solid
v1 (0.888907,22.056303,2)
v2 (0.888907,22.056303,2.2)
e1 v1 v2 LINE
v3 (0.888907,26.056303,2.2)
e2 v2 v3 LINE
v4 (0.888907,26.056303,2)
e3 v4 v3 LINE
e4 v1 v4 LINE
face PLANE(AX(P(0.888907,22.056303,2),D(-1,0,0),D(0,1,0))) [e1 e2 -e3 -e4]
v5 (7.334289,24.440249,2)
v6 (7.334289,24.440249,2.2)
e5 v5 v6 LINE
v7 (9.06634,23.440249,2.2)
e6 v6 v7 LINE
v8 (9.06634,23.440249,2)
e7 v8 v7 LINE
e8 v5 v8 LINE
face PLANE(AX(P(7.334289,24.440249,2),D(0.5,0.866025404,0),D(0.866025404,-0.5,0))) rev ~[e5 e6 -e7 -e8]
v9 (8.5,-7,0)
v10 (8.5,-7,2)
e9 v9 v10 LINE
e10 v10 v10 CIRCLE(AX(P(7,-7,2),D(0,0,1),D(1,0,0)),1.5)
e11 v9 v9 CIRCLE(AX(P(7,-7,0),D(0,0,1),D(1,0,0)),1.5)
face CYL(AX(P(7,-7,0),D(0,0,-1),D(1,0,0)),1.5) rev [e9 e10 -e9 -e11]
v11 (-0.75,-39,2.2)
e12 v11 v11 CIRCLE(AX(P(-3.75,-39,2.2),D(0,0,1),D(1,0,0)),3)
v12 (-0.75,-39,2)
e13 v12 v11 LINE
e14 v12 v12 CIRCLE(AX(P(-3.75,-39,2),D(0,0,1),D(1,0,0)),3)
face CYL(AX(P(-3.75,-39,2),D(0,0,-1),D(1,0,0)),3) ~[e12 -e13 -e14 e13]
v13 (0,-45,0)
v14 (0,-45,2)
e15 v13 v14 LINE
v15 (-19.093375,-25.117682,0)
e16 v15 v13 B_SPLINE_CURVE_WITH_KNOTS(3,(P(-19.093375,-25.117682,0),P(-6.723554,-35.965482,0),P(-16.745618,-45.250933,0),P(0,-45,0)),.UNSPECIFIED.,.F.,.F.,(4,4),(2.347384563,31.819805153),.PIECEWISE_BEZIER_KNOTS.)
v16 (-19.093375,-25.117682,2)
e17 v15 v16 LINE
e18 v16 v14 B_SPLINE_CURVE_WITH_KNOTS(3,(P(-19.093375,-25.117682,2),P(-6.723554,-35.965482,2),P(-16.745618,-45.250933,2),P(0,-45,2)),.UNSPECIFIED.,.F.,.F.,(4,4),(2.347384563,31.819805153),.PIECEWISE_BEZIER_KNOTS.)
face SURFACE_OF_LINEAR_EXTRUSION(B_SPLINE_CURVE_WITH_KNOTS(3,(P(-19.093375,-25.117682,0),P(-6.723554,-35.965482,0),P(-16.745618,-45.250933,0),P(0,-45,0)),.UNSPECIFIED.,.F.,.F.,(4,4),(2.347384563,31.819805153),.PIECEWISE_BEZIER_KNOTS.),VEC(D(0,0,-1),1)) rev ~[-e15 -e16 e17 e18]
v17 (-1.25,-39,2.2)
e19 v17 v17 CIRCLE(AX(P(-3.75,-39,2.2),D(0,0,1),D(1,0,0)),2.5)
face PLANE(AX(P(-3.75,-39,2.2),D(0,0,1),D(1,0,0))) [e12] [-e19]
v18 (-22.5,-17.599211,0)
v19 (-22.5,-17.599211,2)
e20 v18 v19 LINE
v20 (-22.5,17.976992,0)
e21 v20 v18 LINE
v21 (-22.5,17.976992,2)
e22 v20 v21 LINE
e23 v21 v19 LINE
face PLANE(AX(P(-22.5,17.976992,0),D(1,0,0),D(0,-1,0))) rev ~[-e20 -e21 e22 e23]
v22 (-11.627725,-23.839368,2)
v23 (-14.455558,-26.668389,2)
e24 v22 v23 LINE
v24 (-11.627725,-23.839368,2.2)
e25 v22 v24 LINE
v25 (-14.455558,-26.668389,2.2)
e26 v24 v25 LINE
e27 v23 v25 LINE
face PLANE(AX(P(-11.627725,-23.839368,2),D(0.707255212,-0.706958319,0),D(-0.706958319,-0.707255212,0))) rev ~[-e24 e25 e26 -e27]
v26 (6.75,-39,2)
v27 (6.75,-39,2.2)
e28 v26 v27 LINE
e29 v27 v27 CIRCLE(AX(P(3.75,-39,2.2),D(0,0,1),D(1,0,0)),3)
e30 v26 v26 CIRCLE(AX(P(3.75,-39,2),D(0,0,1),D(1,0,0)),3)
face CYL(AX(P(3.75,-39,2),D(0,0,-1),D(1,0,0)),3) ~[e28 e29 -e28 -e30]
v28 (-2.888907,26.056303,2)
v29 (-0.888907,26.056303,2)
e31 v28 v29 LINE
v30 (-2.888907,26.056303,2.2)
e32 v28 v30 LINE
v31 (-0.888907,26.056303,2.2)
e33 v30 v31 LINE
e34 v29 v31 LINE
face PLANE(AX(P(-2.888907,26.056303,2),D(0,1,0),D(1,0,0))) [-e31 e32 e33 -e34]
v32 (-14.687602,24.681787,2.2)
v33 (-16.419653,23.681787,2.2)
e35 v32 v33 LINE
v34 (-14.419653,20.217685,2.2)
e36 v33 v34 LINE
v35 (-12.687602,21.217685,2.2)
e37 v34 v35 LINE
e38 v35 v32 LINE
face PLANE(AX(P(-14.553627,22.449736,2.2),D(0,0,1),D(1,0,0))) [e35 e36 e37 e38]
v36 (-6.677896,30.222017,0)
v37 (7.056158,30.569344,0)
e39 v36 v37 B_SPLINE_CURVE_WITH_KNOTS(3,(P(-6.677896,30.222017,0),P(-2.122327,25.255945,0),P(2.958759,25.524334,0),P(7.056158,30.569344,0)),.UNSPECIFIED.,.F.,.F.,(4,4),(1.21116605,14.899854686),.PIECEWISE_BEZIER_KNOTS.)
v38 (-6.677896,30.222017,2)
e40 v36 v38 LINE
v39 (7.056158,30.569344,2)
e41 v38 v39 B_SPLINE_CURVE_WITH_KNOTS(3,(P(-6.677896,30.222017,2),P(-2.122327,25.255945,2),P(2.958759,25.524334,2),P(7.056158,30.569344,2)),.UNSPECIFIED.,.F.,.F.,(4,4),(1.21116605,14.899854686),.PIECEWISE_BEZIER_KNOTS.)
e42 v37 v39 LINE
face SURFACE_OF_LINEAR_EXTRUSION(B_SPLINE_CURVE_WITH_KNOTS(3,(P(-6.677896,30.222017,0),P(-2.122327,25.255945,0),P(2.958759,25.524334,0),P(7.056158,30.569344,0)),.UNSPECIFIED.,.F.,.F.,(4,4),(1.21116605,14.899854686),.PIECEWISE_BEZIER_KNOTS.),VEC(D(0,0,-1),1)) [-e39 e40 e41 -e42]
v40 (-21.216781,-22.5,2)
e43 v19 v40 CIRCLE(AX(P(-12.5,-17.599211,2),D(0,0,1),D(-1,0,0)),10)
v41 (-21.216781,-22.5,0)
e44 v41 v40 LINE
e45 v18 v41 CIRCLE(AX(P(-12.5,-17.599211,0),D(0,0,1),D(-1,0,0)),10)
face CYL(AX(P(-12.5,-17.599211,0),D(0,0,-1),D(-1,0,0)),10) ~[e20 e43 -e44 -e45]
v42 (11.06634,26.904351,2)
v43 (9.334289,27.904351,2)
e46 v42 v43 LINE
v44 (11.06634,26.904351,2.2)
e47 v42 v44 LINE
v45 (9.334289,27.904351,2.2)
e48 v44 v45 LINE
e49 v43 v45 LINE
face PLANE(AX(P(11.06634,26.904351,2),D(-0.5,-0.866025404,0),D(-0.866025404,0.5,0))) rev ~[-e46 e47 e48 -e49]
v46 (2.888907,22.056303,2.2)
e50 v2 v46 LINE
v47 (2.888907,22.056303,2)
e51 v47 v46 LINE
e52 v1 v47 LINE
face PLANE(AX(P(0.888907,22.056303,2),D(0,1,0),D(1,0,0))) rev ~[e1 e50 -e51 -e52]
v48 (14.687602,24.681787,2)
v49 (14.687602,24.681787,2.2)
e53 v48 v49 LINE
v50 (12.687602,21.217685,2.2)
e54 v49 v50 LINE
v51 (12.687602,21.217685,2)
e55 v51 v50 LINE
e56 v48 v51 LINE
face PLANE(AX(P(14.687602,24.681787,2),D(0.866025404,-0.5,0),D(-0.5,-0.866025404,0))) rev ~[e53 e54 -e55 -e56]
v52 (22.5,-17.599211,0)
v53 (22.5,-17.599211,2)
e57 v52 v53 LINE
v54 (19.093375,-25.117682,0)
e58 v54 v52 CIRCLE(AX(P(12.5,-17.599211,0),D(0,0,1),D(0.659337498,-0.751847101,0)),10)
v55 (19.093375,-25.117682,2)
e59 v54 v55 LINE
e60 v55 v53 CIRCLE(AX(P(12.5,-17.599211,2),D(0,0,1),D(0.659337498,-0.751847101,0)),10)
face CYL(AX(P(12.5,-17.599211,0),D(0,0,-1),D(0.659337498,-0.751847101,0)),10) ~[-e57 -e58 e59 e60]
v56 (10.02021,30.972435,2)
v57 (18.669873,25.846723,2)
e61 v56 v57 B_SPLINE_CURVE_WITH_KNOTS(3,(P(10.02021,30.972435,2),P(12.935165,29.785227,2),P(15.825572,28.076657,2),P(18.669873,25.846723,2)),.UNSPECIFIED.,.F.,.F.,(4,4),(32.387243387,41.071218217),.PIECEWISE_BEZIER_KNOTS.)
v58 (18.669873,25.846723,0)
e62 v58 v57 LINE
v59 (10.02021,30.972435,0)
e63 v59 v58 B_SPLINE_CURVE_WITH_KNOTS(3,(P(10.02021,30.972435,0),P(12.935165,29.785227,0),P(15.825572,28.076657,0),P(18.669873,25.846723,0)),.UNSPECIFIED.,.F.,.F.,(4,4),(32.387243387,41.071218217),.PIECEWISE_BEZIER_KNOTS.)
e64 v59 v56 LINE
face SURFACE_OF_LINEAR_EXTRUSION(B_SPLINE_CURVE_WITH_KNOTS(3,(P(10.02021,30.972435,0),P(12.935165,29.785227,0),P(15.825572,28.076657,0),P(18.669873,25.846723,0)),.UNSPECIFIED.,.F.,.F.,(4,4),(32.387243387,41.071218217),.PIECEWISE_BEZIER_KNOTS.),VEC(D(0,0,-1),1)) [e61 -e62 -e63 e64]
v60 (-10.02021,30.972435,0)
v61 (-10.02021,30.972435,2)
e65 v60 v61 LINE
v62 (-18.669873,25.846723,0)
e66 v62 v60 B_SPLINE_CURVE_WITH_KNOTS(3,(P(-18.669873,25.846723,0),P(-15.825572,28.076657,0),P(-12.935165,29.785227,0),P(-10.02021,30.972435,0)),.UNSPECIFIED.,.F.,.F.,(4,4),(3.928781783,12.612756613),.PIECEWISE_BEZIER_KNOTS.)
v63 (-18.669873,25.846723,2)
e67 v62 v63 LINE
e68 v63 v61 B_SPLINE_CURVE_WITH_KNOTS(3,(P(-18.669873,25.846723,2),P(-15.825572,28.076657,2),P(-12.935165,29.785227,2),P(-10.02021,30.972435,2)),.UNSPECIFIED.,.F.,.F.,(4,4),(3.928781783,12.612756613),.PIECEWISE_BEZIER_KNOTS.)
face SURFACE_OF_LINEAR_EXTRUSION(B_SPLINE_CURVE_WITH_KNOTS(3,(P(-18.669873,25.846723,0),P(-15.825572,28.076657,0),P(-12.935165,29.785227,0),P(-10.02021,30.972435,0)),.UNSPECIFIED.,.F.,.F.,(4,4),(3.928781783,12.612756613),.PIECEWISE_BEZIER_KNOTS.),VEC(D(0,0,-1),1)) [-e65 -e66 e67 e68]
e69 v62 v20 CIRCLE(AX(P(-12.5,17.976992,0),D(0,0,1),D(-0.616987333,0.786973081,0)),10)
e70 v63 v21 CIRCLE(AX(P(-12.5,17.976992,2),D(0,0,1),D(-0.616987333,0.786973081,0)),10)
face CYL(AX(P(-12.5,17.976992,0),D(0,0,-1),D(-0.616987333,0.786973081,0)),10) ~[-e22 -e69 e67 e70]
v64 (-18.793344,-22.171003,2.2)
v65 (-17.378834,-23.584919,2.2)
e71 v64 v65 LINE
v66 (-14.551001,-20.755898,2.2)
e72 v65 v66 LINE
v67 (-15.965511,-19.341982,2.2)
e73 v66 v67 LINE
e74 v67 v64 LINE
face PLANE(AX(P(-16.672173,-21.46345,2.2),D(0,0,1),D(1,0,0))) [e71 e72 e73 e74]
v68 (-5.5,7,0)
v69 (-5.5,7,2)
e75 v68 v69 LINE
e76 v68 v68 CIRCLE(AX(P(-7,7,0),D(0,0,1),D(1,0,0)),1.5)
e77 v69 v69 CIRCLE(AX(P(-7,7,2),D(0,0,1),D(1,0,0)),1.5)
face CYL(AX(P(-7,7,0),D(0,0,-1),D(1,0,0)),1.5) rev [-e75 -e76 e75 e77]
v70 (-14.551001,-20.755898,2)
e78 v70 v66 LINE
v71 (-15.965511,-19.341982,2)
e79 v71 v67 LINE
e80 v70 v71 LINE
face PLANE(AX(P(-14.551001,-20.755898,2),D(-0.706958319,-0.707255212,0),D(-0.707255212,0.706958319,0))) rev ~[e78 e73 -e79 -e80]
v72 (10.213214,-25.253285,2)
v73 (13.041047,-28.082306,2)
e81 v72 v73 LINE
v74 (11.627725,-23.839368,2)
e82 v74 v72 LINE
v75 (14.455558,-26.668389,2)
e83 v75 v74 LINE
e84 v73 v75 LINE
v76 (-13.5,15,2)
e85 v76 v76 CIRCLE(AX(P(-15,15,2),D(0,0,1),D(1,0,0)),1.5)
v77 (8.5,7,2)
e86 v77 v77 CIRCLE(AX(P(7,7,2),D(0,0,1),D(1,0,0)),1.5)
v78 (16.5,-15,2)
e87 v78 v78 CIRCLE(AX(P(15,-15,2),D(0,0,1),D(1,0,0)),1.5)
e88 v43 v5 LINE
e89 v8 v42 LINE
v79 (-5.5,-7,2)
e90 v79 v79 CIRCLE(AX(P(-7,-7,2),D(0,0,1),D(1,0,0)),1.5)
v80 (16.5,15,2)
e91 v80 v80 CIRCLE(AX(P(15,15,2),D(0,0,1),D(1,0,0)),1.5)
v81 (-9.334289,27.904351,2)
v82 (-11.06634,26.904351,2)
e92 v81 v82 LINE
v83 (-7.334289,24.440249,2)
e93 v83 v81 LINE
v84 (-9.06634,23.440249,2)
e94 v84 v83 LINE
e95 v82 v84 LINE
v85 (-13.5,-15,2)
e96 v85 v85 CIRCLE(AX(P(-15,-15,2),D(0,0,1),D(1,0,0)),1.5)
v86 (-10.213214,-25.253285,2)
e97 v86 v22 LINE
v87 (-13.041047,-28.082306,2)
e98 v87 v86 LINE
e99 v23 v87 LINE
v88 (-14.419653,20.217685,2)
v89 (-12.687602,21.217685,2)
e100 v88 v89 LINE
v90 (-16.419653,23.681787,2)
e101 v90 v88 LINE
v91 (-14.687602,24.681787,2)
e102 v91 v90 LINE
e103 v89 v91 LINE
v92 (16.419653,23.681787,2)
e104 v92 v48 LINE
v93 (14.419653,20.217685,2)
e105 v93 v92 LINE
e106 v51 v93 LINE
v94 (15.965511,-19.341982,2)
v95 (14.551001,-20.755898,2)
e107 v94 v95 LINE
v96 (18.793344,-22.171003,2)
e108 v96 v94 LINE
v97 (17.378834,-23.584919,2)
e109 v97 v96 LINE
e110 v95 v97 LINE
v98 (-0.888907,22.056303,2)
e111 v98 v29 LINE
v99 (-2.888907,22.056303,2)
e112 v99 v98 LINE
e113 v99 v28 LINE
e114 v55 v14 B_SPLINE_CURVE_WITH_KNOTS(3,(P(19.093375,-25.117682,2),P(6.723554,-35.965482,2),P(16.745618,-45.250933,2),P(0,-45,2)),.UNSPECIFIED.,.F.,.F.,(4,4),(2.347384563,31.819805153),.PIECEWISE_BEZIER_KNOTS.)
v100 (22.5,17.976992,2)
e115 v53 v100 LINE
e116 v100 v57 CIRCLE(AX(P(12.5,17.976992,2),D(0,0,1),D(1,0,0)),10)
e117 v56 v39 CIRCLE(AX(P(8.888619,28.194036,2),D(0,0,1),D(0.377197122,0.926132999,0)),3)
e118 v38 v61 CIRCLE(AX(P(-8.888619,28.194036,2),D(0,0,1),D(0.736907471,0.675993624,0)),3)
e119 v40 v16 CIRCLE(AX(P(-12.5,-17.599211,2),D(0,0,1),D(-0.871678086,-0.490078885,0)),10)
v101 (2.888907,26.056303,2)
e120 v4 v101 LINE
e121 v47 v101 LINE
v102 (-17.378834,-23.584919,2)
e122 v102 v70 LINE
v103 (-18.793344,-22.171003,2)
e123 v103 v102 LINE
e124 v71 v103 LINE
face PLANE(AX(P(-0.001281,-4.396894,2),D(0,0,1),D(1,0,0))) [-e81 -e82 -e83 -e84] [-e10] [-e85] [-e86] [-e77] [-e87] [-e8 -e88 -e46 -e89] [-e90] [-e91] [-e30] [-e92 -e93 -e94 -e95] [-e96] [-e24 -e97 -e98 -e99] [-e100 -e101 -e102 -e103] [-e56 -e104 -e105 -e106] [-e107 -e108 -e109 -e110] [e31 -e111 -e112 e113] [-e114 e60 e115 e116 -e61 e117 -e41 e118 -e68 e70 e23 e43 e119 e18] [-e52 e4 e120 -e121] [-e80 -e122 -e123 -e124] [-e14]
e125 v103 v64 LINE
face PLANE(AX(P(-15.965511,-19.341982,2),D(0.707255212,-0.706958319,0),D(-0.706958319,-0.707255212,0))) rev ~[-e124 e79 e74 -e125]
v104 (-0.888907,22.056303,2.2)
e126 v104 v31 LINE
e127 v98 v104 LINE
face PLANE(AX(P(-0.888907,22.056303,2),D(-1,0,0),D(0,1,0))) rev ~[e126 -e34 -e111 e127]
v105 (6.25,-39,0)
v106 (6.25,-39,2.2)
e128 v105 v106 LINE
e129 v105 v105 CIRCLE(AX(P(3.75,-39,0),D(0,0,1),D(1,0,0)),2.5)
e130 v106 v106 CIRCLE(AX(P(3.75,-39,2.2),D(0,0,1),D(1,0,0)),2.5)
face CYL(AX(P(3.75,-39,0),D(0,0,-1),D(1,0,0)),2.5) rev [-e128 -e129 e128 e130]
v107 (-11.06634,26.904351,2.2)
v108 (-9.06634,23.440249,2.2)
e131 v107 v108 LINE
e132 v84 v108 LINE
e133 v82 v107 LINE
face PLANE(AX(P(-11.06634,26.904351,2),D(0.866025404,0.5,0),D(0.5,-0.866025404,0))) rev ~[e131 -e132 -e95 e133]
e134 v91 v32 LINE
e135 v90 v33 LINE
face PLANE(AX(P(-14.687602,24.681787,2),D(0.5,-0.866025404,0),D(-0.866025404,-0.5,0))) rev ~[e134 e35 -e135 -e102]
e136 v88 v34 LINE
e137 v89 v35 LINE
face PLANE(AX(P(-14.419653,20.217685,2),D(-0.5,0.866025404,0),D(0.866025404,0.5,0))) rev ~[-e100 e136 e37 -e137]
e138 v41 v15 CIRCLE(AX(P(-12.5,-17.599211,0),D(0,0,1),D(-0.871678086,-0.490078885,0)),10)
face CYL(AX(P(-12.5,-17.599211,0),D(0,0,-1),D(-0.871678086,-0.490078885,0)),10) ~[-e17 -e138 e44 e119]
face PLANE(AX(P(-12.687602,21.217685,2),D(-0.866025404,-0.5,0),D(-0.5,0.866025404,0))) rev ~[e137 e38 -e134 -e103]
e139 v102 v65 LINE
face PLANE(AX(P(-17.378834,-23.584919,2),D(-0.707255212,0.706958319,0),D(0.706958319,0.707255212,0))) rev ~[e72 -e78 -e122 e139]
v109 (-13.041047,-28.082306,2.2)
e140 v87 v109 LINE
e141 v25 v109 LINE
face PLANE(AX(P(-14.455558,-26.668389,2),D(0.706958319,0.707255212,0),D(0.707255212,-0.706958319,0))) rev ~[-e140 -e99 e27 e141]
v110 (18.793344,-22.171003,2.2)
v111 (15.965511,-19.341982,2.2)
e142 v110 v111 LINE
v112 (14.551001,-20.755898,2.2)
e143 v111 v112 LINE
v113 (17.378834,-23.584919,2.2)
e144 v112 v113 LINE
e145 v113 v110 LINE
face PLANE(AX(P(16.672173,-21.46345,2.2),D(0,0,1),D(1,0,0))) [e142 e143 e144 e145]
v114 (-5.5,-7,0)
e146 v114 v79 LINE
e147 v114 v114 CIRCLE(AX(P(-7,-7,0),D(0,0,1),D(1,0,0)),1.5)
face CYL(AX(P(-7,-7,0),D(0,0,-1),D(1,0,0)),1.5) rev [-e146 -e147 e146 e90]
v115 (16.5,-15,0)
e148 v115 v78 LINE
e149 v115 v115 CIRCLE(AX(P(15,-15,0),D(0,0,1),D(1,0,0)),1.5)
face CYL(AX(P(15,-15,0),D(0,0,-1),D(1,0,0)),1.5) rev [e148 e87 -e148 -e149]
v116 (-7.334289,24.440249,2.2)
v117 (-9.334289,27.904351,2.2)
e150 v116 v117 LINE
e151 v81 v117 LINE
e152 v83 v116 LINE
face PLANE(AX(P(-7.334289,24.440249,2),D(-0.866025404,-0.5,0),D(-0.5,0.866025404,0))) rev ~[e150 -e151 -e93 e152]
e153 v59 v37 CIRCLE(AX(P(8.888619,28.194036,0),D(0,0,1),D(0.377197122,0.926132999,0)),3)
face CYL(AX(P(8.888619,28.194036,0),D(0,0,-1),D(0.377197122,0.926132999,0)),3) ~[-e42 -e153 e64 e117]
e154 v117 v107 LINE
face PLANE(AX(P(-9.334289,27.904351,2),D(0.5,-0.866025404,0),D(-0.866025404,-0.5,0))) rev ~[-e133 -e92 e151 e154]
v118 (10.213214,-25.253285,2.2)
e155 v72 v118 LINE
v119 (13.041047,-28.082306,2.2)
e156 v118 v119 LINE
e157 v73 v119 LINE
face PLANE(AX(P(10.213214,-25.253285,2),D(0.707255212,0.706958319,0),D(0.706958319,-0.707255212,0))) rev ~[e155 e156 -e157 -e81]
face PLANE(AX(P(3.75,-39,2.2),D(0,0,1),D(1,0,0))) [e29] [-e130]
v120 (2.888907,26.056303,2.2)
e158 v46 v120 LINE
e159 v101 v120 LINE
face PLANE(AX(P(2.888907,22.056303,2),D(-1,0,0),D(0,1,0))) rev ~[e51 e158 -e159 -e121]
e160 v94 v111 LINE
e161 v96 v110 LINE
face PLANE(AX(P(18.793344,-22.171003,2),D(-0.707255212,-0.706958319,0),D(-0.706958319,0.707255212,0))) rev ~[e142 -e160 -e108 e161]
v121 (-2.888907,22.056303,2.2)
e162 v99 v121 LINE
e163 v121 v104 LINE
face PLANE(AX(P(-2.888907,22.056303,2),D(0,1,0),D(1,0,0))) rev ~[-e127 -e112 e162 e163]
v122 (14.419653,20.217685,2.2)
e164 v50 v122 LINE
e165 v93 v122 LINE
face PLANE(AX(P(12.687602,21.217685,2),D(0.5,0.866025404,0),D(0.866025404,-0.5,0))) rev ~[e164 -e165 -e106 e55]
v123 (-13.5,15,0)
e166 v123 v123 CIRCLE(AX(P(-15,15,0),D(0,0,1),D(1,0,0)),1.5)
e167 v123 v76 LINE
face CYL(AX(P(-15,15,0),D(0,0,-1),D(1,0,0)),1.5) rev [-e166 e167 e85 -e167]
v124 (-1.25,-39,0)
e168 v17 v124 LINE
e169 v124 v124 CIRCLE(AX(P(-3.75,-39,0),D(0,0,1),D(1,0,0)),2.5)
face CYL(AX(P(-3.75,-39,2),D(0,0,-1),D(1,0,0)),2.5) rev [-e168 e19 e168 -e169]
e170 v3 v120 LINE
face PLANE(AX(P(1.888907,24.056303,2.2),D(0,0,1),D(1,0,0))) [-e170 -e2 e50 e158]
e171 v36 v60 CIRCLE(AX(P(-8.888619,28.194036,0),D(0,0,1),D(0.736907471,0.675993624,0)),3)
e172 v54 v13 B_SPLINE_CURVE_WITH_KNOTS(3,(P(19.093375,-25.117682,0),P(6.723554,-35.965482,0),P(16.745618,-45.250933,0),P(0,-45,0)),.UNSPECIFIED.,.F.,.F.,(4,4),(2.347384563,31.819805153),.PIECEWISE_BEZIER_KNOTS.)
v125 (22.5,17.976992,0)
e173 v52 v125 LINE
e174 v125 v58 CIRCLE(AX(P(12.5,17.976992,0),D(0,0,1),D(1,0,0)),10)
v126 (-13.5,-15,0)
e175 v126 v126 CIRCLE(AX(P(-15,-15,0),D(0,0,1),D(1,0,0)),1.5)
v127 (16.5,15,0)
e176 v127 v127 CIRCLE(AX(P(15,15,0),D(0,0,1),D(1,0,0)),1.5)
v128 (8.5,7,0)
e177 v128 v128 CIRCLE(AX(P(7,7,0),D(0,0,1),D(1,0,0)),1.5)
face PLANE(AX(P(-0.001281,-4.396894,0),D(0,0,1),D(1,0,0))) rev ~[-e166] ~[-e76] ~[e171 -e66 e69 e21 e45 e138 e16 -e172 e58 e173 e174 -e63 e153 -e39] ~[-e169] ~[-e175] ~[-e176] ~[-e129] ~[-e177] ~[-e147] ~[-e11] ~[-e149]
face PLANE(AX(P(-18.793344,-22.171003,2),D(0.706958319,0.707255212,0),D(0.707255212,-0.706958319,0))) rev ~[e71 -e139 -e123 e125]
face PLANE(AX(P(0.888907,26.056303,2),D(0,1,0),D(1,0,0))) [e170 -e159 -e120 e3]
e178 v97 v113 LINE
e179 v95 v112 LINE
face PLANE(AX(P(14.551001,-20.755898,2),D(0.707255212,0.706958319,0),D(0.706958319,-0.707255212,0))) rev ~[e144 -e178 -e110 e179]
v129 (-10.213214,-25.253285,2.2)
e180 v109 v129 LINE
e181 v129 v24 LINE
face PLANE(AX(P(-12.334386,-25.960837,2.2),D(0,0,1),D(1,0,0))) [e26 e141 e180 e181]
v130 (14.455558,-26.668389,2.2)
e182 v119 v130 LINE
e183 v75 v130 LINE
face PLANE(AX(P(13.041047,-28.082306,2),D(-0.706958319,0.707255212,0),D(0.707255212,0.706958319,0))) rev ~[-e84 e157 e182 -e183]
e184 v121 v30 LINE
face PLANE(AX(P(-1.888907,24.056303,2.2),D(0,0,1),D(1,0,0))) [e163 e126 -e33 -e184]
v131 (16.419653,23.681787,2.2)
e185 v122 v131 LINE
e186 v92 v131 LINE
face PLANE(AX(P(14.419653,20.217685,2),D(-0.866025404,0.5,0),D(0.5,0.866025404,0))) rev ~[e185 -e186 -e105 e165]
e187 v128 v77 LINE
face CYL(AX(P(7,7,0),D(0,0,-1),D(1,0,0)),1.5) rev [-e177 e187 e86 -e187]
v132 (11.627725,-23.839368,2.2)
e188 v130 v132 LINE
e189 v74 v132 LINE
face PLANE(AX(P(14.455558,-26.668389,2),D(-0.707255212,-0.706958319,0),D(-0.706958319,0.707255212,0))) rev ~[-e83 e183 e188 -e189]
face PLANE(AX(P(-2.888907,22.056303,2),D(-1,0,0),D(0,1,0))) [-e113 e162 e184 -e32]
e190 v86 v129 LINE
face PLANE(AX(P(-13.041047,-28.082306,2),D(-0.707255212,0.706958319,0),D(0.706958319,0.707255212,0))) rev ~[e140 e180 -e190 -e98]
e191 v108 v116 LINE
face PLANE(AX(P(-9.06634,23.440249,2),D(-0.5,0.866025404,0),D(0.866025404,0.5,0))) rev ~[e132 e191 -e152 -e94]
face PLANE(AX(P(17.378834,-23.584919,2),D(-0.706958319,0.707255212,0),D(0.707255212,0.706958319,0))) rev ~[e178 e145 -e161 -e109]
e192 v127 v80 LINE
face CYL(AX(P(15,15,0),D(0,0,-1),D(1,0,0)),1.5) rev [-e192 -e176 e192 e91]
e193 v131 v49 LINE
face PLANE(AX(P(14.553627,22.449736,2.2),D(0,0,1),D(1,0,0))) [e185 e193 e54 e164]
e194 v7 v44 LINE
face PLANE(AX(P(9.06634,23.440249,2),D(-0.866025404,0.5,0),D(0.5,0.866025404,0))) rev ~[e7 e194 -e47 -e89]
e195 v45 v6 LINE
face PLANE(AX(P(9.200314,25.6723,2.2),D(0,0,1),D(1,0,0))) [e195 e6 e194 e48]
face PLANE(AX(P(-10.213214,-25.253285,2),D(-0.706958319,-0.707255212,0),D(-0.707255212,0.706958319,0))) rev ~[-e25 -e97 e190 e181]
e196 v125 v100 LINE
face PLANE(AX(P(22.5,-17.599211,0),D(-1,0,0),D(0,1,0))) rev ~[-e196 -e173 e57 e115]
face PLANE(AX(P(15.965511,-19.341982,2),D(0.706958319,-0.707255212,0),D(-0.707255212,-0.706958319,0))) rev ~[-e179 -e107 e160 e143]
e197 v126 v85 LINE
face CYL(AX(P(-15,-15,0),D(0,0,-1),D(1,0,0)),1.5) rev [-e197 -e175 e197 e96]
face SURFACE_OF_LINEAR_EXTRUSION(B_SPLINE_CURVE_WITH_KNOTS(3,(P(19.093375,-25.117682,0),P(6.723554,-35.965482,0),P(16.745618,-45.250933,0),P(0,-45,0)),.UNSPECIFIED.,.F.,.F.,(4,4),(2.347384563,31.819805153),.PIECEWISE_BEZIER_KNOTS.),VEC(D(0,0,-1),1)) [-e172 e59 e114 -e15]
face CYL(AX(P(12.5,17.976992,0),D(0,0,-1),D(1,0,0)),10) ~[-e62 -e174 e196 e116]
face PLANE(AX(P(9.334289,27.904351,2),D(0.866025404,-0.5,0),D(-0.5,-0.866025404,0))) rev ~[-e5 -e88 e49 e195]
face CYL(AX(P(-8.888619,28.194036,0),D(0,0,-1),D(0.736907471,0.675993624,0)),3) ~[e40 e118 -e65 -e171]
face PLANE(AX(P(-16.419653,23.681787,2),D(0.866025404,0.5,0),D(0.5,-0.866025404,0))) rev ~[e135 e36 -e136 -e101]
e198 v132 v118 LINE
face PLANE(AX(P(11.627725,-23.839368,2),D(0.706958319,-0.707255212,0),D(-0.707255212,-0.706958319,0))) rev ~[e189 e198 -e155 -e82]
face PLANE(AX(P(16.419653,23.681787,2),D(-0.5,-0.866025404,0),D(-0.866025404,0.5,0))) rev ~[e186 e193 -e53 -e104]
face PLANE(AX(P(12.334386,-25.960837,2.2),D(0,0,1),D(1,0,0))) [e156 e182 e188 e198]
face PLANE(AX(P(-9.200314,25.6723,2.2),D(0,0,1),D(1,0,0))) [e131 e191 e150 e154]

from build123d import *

# Parameters (mm, degrees)
F0_R     = 2.5
F0_R_2   = 1.5
F1_DEPTH = 2
F2_W     = 2
F2_H     = 4
F2_R     = 3
F2_R_2   = 2.5
F3_DEPTH = 0.2


with BuildPart() as f1:
    # F0 (on Top) → F1 (new body)
    with BuildSketch(Plane.XY):
        with BuildLine():
            Line((22.5, -17.5992111466), (22.5, 17.9769920821))
            ThreePointArc((22.5, 17.9769920821), (21.4916275861, 22.3531357443), (18.6698733295, 25.8467228969))
            add(Edge.make_bspline(
                [(10.0202101022, 30.9724353404), (12.9351645554, 29.7852274215), (15.8255721427, 28.076656607), (18.6698733295, 25.8467228969)],
                knots=[32.3872433875, 32.3872433875, 32.3872433875, 32.3872433875, 41.0712182165, 41.0712182165, 41.0712182165, 41.0712182165], degree=3))
            ThreePointArc((10.0202101022, 30.9724353404), (8.4843597996, 31.1666740134), (7.0561575797, 30.569343926))
            add(Edge.make_bspline(
                [(-6.6778963244, 30.2220172158), (-2.1223269725, 25.2559450952), (2.9587594632, 25.5243336352), (7.0561575797, 30.569343926)],
                knots=[1.2111660498, 1.2111660498, 1.2111660498, 1.2111660498, 14.8998546864, 14.8998546864, 14.8998546864, 14.8998546864], degree=3))
            ThreePointArc((-6.6778963244, 30.2220172158), (-8.2314180106, 31.1211658606), (-10.0202101022, 30.9724353404))
            add(Edge.make_bspline(
                [(-18.6698733295, 25.8467228969), (-15.8255721427, 28.076656607), (-12.9351645554, 29.7852274215), (-10.0202101022, 30.9724353404)],
                knots=[3.9287817835, 3.9287817835, 3.9287817835, 3.9287817835, 12.6127566125, 12.6127566125, 12.6127566125, 12.6127566125], degree=3))
            ThreePointArc((-18.6698733295, 25.8467228969), (-21.4916275861, 22.3531357443), (-22.5, 17.9769920821))
            Line((-22.5, 17.9769920821), (-22.5, -17.5992111466))
            ThreePointArc((-22.5, -17.5992111466), (-22.1738774189, -20.1322124661), (-21.216780863, -22.5))
            ThreePointArc((-21.216780863, -22.5), (-20.2661626921, -23.8989505888), (-19.0933749805, -25.1176821592))
            add(Edge.make_bspline(
                [(-19.0933749805, -25.1176821592), (-6.7235541682, -35.9654817875), (-16.745618261, -45.2509330365), (0, -45)],
                knots=[2.3473845635, 2.3473845635, 2.3473845635, 2.3473845635, 31.8198051534, 31.8198051534, 31.8198051534, 31.8198051534], degree=3))
            add(Edge.make_bspline(
                [(19.0933749805, -25.1176821592), (6.7235541682, -35.9654817875), (16.745618261, -45.2509330365), (0, -45)],
                knots=[2.3473845635, 2.3473845635, 2.3473845635, 2.3473845635, 31.8198051534, 31.8198051534, 31.8198051534, 31.8198051534], degree=3))
            ThreePointArc((19.0933749805, -25.1176821592), (21.6086154218, -21.7263318254), (22.5, -17.5992111466))
        make_face()
        with Locations((-3.75, -39)):
            Circle(F0_R, mode=Mode.SUBTRACT)
        with Locations((-15, -15)):
            Circle(F0_R_2, mode=Mode.SUBTRACT)
        with Locations((-7, -7)):
            Circle(F0_R_2, mode=Mode.SUBTRACT)
        with Locations((3.75, -39)):
            Circle(F0_R, mode=Mode.SUBTRACT)
        with Locations((7, -7)):
            Circle(F0_R_2, mode=Mode.SUBTRACT)
        with Locations((15, -15)):
            Circle(F0_R_2, mode=Mode.SUBTRACT)
        with Locations((-7, 7)):
            Circle(F0_R_2, mode=Mode.SUBTRACT)
        with Locations((-15, 15)):
            Circle(F0_R_2, mode=Mode.SUBTRACT)
        with Locations((7, 7)):
            Circle(F0_R_2, mode=Mode.SUBTRACT)
        with Locations((15, 15)):
            Circle(F0_R_2, mode=Mode.SUBTRACT)
    extrude(amount=F1_DEPTH)

    # F2 (on face) → F3 (join)
    with BuildSketch(Plane.XY.offset(2)):
        Polygon((-16.4196526402, 23.6817868025), (-14.4196526402, 20.2176851873), (-12.6876018326, 21.2176851873), (-14.6876018326, 24.6817868025), align=None)
        Polygon((-11.0663396811, 26.9043505312), (-9.0663396811, 23.4402489161), (-7.3342888736, 24.4402489161), (-9.3342888736, 27.9043505312), align=None)
        with Locations((-1.8889066383, 24.0563029559)):
            Rectangle(F2_W, F2_H)
        with Locations((1.8889066383, 24.0563029559)):
            Rectangle(F2_W, F2_H)
        Polygon((9.3342888736, 27.9043505312), (7.3342888736, 24.4402489161), (9.0663396811, 23.4402489161), (11.0663396811, 26.9043505312), align=None)
        Polygon((12.6876018326, 21.2176851873), (14.4196526402, 20.2176851873), (16.4196526402, 23.6817868025), (14.6876018326, 24.6817868025), align=None)
        Polygon((-17.3788340109, -23.5849192398), (-14.5510007349, -20.755898391), (-15.9655111593, -19.341981753), (-18.7933444353, -22.1710026018), align=None)
        Polygon((-14.4555578038, -26.6683889275), (-13.0410473794, -28.0823055655), (-10.2132141034, -25.2532847167), (-11.6277245278, -23.8393680786), align=None)
        Polygon((10.2132141034, -25.2532847167), (13.0410473794, -28.0823055655), (14.4555578038, -26.6683889275), (11.6277245278, -23.8393680786), align=None)
        Polygon((14.5510007349, -20.755898391), (17.3788340109, -23.5849192398), (18.7933444353, -22.1710026018), (15.9655111593, -19.341981753), align=None)
        with Locations((-3.75, -39)):
            Circle(F2_R)
        with Locations((-3.75, -39)):
            Circle(F2_R_2, mode=Mode.SUBTRACT)
        with Locations((3.75, -39)):
            Circle(F2_R)
        with Locations((3.75, -39)):
            Circle(F2_R_2, mode=Mode.SUBTRACT)
    extrude(amount=F3_DEPTH)


solid = f1.part
